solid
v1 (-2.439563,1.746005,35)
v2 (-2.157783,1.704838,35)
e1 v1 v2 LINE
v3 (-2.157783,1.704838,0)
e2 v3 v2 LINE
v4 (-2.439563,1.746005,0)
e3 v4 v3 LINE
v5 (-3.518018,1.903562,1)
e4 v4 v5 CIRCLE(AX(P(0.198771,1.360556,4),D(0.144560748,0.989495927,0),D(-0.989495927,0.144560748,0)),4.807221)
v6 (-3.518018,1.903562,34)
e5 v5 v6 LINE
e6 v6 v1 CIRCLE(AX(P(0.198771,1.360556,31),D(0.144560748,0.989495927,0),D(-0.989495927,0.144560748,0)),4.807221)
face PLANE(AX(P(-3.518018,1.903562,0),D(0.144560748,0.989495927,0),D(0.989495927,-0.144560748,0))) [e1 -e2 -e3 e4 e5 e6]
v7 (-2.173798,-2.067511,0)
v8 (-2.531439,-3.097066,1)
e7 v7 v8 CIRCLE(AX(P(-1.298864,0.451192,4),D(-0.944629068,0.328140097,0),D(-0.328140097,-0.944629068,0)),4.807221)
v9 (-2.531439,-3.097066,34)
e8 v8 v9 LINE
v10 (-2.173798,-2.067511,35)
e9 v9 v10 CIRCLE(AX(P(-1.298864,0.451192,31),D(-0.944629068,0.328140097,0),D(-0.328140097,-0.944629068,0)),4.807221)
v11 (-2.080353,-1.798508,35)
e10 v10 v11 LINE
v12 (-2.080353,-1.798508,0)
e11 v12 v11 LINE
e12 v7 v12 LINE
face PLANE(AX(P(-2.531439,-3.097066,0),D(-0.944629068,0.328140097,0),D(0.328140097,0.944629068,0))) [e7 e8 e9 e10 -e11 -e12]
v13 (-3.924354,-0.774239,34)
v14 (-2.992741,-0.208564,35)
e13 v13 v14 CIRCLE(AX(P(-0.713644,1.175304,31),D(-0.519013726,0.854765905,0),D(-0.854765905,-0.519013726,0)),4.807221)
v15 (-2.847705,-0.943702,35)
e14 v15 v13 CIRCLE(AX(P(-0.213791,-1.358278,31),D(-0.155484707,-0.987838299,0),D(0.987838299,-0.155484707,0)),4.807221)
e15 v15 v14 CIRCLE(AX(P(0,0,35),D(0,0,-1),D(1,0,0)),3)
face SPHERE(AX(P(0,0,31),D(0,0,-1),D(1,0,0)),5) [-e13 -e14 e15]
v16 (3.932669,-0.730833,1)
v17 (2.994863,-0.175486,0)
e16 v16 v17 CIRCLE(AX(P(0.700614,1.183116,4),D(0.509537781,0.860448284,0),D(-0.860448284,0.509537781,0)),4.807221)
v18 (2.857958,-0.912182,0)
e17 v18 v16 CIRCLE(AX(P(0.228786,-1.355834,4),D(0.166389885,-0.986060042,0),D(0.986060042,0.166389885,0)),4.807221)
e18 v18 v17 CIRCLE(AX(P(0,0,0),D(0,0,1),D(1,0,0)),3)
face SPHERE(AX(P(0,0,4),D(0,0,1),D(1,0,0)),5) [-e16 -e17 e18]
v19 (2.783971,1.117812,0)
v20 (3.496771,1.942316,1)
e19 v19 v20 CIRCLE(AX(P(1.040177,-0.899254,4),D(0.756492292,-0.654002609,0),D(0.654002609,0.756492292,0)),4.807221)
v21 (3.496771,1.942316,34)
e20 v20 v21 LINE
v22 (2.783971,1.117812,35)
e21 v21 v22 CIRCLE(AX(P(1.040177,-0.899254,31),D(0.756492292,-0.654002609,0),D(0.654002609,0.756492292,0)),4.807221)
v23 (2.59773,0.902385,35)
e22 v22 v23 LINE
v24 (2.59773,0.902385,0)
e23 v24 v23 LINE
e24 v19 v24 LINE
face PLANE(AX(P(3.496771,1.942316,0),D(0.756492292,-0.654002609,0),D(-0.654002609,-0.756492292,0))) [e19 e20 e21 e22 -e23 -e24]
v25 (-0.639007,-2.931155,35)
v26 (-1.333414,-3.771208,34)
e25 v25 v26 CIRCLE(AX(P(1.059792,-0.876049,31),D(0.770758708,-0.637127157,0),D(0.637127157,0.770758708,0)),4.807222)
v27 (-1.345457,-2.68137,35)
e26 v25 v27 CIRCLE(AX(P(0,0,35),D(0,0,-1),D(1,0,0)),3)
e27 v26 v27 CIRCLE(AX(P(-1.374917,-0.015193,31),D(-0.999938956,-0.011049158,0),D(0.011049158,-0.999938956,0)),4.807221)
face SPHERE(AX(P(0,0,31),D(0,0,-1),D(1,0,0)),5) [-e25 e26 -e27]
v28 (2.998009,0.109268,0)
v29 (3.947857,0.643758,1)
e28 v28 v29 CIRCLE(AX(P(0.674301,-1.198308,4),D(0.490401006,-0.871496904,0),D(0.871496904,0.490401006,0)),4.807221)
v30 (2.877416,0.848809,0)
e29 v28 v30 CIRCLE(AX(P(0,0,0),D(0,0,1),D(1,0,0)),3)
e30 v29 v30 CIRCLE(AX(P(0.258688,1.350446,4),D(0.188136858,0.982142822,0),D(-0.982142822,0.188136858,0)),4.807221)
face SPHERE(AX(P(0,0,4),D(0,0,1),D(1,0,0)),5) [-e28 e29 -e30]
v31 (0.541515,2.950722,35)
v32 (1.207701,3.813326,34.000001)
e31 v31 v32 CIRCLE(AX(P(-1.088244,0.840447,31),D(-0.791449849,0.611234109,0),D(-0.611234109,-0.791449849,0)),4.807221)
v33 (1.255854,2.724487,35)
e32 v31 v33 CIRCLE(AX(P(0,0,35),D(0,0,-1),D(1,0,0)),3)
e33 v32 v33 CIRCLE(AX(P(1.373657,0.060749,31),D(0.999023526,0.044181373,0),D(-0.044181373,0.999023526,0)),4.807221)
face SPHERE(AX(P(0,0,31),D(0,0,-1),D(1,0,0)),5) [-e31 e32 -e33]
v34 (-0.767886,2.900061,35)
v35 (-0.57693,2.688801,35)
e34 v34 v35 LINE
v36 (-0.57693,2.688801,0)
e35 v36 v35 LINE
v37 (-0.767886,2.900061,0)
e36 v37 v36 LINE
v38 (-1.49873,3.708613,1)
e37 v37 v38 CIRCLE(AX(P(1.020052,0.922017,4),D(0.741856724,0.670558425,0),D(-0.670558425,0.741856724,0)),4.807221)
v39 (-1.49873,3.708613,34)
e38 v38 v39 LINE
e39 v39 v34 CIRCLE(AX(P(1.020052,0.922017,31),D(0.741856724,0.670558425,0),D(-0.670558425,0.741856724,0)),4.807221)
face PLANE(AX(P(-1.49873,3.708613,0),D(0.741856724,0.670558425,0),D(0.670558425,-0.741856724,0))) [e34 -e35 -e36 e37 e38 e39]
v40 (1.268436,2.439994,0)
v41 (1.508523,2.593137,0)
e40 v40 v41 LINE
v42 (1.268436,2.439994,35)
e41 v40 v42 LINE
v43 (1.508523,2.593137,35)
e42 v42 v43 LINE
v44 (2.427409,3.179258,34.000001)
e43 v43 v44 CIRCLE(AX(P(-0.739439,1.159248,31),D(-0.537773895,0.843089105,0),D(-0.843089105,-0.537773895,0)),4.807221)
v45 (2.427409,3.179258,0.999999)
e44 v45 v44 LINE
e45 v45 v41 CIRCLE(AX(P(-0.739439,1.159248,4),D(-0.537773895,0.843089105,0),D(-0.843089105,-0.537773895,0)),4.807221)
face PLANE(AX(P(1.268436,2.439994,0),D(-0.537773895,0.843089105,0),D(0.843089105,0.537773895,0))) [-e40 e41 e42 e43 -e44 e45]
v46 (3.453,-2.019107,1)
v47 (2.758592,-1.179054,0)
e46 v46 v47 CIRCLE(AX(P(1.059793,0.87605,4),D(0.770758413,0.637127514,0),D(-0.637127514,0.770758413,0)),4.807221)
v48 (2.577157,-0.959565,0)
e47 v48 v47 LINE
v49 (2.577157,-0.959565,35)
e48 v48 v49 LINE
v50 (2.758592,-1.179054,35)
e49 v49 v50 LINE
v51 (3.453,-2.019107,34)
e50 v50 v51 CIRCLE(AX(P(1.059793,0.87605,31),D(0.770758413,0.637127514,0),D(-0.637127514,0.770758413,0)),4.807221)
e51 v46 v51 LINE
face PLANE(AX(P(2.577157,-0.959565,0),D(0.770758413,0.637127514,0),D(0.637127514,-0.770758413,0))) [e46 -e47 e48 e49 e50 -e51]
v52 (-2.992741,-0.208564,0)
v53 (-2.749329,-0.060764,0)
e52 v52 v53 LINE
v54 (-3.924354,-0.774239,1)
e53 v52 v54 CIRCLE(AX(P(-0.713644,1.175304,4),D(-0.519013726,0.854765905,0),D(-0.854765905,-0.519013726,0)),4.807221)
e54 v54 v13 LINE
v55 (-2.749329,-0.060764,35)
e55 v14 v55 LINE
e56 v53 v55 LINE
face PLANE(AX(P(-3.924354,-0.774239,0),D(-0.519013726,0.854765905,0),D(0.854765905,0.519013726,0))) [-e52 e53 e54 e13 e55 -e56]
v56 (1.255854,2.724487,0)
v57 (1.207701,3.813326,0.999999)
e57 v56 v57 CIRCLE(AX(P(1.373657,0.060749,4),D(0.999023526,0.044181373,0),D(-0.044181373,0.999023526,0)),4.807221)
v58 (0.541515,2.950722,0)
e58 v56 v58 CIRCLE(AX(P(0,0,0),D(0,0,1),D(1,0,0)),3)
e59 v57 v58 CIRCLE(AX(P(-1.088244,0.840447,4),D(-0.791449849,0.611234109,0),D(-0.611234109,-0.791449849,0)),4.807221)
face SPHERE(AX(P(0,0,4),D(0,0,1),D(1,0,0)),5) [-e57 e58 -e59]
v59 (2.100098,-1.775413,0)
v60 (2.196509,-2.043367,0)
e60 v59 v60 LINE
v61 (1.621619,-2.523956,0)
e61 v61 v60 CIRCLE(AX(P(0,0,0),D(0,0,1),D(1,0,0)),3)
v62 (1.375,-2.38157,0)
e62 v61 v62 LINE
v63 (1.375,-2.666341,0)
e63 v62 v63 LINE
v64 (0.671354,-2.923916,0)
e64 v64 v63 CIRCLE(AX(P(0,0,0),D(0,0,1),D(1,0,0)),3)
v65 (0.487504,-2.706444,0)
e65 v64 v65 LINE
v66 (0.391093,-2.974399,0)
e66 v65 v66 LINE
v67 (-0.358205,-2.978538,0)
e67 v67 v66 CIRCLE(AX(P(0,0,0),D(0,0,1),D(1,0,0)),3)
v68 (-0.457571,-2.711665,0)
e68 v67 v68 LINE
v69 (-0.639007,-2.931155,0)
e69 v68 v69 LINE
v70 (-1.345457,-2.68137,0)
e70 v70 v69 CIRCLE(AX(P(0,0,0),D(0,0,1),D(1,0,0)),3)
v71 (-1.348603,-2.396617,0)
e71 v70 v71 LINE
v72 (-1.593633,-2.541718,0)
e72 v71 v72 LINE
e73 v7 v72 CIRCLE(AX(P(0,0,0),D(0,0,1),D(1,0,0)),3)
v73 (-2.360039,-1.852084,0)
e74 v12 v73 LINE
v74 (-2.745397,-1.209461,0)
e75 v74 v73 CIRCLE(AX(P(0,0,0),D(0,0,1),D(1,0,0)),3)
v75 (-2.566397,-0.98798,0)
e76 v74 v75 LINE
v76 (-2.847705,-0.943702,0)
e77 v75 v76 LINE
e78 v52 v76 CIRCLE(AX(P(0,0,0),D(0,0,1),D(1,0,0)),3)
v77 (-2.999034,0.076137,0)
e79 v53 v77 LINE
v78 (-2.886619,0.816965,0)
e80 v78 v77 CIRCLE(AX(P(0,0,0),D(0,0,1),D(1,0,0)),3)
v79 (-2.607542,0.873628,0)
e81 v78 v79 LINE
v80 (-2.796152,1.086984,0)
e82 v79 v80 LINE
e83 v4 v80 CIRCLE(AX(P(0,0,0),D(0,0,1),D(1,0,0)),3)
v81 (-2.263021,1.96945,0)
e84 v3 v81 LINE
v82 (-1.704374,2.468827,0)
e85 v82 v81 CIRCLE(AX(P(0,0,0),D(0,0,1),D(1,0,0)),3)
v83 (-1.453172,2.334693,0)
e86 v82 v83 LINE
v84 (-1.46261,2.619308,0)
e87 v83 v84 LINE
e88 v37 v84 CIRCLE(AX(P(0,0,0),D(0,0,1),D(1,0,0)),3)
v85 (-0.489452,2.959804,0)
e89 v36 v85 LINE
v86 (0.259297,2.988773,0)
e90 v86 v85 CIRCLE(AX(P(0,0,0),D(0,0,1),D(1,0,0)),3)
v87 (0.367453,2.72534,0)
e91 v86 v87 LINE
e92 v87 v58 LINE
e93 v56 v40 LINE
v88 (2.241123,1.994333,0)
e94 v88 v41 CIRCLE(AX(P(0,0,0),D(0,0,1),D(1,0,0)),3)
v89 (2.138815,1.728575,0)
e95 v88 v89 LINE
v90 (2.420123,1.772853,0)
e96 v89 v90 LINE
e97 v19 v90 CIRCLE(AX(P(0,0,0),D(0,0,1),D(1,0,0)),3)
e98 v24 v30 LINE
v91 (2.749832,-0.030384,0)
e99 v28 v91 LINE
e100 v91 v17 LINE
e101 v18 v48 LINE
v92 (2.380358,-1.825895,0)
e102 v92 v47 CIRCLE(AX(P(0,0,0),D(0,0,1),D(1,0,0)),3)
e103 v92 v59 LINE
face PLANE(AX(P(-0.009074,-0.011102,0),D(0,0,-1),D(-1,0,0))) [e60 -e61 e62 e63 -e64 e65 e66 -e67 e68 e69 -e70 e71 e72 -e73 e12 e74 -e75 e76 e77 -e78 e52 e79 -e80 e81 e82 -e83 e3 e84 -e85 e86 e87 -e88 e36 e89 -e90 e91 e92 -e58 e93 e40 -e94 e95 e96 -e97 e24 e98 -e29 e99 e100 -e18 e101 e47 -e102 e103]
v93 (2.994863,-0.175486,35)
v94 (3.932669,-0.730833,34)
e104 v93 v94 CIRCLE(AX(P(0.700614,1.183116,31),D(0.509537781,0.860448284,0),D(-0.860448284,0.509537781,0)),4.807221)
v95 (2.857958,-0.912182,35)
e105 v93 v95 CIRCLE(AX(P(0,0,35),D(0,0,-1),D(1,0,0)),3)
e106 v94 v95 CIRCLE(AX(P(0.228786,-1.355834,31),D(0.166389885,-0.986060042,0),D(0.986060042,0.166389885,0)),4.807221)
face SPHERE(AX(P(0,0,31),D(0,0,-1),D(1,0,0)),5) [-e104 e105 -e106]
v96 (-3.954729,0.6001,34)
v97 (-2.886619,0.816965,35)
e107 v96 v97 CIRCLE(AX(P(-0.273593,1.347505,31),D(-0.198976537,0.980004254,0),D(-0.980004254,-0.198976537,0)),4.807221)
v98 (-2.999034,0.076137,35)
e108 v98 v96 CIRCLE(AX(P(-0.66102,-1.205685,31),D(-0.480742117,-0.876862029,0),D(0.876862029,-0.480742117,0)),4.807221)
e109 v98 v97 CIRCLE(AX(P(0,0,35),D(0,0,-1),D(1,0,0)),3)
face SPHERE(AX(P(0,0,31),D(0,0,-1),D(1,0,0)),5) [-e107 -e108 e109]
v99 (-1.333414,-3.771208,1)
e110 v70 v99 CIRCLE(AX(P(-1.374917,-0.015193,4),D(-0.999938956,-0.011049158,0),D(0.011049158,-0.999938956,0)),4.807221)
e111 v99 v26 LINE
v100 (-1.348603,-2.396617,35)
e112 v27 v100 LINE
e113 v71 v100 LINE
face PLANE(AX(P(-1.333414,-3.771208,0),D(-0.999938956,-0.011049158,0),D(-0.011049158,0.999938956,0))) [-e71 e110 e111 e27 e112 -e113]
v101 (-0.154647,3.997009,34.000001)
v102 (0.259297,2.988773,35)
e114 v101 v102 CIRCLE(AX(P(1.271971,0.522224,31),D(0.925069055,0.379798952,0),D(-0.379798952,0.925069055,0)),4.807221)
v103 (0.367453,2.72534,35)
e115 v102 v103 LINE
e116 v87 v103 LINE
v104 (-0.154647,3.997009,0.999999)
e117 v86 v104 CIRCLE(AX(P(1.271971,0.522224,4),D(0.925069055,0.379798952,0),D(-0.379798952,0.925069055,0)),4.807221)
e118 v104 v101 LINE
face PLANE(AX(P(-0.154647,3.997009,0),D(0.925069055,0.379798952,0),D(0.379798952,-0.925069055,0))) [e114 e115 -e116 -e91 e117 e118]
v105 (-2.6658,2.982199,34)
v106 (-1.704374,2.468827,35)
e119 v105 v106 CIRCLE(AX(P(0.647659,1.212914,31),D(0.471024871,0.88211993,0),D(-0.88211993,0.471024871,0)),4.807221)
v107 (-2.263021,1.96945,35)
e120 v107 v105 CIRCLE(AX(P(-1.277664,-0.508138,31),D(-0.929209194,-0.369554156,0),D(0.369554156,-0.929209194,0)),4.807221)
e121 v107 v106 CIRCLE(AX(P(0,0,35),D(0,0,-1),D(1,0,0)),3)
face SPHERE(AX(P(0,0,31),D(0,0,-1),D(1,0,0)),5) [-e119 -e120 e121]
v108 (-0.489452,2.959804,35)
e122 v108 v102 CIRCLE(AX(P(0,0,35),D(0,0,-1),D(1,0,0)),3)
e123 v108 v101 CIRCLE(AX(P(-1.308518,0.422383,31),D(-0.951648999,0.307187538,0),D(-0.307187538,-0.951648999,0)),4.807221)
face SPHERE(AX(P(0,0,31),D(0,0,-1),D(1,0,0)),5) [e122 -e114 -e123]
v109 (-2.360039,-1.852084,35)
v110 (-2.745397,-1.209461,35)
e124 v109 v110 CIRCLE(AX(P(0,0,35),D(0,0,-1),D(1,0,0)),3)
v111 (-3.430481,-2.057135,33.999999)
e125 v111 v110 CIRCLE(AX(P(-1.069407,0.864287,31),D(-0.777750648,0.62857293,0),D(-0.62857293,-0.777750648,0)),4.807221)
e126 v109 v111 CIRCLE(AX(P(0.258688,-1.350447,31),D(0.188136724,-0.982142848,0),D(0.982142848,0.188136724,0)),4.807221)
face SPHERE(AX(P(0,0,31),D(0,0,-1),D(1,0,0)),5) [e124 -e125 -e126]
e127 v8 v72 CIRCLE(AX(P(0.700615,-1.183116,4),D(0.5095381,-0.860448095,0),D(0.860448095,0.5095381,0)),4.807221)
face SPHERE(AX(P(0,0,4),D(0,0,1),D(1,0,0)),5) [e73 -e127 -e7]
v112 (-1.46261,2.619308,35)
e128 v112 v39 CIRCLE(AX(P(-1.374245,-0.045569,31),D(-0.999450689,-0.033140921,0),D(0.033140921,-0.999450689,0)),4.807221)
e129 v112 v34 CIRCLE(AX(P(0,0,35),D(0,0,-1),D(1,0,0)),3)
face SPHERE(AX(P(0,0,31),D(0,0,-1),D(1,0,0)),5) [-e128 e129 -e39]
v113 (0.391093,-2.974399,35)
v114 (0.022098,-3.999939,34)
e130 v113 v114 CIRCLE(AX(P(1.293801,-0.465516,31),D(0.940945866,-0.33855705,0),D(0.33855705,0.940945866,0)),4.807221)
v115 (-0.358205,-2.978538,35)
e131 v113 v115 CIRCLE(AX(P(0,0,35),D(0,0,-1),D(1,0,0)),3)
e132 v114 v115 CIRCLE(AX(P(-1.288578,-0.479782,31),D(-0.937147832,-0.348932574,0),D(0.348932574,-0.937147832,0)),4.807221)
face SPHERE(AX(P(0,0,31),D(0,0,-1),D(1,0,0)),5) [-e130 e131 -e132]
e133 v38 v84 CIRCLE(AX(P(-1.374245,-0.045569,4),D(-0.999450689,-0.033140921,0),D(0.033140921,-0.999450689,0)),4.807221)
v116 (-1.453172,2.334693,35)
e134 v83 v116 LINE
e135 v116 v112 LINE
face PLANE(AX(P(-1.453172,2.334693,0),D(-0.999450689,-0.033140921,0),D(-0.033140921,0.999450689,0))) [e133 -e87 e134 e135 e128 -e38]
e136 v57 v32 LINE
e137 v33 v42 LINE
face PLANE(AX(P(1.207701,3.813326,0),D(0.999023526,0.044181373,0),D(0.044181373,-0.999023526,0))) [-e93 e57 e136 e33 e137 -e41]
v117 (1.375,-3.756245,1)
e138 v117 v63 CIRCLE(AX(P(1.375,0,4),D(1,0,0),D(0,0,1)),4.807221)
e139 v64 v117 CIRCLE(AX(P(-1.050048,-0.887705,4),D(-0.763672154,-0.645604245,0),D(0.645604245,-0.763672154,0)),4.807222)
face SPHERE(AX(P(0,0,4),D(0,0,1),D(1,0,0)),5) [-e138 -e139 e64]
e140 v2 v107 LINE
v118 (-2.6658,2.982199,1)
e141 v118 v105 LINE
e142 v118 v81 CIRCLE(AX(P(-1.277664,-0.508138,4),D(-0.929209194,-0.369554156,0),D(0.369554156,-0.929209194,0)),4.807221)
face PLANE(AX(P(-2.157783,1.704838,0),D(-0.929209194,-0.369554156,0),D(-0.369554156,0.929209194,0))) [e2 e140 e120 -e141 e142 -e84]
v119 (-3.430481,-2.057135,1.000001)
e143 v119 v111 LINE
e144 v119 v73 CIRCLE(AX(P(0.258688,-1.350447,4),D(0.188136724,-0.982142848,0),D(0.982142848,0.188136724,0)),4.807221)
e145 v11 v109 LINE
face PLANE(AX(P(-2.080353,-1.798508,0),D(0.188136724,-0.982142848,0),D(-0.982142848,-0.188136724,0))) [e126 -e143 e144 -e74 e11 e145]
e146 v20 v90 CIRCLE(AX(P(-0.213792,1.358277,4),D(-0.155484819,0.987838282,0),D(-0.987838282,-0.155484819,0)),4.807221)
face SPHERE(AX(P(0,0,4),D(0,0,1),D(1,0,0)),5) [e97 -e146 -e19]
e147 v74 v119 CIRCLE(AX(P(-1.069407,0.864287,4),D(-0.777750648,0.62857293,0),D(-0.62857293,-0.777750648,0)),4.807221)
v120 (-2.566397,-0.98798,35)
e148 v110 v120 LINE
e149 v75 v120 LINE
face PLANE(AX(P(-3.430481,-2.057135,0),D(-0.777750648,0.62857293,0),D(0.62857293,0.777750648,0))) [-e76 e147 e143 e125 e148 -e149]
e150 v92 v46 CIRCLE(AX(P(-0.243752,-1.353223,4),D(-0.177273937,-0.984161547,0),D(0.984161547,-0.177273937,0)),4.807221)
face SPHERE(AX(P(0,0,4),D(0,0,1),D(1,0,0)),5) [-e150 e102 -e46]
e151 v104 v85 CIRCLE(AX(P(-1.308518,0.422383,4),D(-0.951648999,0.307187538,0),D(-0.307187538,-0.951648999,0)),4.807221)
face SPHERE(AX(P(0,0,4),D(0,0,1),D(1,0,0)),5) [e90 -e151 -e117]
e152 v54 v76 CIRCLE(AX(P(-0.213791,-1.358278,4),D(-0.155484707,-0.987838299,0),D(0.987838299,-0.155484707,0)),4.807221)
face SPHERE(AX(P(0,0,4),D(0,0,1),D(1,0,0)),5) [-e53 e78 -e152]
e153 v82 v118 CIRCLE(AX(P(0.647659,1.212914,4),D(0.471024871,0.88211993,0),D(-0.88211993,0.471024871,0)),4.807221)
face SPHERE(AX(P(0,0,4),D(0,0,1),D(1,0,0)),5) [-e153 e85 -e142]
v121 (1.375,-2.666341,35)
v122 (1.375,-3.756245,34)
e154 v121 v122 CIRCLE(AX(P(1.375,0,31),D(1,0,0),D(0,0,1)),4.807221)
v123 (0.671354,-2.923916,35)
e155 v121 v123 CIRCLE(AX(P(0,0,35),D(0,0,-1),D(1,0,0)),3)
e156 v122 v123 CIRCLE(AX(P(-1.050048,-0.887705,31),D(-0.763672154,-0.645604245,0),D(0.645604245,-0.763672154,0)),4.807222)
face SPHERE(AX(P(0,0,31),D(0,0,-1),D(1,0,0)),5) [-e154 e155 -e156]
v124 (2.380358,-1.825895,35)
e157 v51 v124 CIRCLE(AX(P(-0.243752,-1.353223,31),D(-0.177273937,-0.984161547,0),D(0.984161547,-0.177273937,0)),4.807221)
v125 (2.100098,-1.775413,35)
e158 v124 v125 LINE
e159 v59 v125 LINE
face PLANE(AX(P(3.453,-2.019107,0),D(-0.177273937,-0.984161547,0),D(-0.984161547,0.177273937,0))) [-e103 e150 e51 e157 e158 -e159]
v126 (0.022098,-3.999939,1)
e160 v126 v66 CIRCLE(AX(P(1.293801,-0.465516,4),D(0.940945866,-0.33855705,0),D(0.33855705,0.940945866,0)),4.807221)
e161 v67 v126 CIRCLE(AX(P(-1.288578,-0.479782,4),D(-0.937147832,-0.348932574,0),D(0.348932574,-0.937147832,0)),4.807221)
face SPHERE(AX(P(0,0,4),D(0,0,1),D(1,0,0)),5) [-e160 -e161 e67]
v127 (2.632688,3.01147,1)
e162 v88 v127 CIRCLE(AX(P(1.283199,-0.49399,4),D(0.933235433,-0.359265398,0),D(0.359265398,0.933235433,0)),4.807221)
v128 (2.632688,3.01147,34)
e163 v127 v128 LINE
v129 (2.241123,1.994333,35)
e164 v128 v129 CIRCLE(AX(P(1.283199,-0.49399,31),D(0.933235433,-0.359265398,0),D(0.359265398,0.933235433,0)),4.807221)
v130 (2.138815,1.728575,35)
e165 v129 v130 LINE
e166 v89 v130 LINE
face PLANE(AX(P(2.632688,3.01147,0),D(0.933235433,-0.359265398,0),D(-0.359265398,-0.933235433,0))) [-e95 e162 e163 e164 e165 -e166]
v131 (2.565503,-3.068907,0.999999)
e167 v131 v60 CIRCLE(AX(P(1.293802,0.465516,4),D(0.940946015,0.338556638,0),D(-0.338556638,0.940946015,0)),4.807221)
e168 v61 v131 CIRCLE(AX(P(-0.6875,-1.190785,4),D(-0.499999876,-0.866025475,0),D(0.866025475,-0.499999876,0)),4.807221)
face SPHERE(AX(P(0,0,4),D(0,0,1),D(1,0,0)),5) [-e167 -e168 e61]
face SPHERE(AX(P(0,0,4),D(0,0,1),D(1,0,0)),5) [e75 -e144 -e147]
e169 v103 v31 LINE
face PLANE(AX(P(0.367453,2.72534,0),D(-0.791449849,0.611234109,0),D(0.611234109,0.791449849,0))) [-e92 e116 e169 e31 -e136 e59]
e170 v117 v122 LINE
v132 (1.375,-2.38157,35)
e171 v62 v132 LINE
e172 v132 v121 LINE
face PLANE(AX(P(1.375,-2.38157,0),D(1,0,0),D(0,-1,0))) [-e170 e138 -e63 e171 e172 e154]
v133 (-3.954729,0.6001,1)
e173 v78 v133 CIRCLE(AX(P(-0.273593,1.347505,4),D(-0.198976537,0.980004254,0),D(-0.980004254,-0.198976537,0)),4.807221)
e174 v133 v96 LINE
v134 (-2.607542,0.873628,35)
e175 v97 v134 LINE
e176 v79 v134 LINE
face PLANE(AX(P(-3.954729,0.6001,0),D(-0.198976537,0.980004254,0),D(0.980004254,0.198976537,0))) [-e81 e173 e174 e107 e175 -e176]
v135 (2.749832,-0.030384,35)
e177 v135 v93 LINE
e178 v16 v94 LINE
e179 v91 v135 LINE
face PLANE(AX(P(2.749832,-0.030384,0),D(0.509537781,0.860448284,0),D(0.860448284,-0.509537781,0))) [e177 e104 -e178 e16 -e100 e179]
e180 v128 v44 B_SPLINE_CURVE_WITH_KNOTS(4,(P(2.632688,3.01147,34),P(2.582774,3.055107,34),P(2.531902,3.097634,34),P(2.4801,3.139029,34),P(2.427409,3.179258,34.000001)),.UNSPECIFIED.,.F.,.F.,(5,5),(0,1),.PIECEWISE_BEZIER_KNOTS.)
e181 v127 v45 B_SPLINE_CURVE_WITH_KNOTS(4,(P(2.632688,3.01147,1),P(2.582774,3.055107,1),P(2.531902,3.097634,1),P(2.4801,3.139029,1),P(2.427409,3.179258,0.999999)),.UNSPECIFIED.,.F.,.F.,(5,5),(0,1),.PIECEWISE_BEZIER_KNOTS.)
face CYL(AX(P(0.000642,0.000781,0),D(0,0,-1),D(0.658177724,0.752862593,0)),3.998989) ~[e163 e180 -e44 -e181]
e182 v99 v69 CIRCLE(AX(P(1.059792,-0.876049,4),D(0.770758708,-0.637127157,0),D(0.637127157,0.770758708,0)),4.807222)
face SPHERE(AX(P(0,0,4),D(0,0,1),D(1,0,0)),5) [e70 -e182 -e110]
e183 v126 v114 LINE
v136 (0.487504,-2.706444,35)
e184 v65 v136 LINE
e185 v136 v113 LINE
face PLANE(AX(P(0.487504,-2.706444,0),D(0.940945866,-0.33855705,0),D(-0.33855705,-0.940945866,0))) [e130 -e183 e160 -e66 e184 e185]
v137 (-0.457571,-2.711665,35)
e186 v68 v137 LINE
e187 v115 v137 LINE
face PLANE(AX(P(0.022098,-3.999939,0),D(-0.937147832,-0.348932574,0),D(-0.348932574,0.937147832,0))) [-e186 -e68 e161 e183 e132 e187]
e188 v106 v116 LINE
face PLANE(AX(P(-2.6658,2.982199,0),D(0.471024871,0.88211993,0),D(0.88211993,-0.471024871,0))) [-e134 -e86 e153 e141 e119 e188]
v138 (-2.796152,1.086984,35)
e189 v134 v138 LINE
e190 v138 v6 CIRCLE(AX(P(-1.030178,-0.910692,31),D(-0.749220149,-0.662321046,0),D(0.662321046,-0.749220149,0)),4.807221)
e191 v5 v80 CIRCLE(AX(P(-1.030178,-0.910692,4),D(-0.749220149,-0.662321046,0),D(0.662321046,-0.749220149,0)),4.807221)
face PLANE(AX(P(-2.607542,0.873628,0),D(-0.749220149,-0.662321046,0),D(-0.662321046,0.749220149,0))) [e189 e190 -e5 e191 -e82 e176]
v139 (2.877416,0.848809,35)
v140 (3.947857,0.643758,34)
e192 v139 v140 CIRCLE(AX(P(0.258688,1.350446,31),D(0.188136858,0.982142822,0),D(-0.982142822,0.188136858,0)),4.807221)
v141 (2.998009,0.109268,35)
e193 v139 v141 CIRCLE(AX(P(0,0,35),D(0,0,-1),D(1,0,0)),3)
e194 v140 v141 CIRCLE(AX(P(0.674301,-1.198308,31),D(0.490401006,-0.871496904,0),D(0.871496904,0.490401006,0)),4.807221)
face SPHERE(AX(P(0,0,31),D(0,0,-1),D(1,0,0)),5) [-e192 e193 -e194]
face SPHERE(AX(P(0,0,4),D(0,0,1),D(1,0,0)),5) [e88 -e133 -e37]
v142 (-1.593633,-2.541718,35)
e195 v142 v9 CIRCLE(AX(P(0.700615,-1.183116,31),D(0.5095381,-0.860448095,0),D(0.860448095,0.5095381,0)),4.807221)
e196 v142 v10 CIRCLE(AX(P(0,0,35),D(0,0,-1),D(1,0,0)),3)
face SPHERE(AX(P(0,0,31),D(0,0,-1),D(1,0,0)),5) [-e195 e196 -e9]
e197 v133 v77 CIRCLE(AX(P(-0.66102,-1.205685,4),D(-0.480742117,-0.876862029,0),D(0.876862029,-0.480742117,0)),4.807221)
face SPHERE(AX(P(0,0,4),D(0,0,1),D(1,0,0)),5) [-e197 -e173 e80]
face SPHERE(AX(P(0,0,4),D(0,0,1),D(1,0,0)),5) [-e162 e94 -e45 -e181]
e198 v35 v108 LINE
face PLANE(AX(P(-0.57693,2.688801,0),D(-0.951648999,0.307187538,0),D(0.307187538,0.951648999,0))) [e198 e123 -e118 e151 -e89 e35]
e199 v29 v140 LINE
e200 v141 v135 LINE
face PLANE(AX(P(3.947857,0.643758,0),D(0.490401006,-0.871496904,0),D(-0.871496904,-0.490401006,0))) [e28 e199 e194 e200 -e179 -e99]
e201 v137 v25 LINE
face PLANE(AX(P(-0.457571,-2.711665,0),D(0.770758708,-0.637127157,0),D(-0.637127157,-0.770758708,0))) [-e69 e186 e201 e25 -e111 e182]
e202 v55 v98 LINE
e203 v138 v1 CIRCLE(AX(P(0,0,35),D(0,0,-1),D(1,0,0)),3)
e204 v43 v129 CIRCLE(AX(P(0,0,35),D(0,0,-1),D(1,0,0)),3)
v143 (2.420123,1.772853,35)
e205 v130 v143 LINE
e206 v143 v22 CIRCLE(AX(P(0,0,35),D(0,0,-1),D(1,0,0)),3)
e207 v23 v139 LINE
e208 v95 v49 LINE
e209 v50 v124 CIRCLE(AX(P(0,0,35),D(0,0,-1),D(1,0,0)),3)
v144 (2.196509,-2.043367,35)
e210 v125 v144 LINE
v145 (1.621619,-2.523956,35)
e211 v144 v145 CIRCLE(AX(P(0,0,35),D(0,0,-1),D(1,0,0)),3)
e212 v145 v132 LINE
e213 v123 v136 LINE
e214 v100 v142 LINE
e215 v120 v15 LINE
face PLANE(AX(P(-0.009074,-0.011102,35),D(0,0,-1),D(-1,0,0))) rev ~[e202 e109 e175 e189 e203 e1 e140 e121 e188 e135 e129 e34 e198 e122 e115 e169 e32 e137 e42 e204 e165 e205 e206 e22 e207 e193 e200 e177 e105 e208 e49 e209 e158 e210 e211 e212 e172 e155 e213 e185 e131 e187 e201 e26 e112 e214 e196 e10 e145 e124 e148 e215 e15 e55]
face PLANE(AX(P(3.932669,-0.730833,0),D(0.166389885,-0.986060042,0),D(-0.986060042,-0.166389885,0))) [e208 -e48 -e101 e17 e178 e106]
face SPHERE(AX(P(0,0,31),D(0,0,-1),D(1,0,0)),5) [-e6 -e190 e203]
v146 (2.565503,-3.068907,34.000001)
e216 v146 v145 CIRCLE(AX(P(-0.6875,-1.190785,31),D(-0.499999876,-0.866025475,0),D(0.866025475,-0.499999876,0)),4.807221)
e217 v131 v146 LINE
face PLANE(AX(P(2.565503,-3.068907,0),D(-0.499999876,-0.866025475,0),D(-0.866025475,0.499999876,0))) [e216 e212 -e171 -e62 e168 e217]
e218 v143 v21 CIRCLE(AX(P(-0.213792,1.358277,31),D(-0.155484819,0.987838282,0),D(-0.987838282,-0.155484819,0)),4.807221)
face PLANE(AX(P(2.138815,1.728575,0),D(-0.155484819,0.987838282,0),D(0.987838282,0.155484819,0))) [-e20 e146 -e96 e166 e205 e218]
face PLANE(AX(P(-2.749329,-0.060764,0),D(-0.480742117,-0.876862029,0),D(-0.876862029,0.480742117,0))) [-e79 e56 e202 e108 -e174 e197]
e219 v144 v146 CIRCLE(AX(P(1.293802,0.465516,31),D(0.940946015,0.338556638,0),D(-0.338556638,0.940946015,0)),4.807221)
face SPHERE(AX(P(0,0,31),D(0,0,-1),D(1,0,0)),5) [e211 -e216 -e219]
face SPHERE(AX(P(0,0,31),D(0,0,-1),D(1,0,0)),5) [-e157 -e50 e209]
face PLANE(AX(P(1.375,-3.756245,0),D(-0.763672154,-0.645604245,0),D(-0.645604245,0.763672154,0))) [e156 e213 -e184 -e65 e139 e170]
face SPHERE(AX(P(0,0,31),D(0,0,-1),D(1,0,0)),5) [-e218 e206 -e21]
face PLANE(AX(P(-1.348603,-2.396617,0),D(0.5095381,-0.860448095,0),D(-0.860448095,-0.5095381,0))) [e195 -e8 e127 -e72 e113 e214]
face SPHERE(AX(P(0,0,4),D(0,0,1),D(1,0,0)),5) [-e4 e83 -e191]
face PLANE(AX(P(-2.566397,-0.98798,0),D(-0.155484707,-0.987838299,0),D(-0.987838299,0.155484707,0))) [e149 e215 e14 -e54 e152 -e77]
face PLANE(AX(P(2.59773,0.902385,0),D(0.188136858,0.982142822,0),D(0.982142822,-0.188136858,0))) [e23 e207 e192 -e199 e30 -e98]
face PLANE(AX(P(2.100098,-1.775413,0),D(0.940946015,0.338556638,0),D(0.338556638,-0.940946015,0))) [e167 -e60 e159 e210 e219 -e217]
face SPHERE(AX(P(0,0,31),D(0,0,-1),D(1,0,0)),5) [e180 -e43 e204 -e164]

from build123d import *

# Parameters (mm, degrees)
CUT002_PLACEMENT_ANGLE = 180
RPANELPAD_DEPTH        = 35


with BuildPart() as sphere001:
    # Sphere001 → Sphere001 (revolve)
    with BuildSketch(Plane(origin=(0, 0, 3), x_dir=(1, 0, 0), z_dir=(0, -1, 0))):
        with BuildLine():
            ThreePointArc((0, -5), (5, 0), (0, 5))
            Line((0, 5), (0, -5))
        make_face()
    revolve(axis=Axis((0, 0, 3), (0, 0, 1)))


with BuildPart() as sphere:
    # Sphere → Sphere (revolve)
    with BuildSketch(Plane.XZ):
        with BuildLine():
            ThreePointArc((0, -5), (5, 0), (0, 5))
            Line((0, 5), (0, -5))
        make_face()
    revolve(axis=Axis((0, 0, 0), (0, 0, 1)))


with BuildPart() as cut002:
    # Cut002 base: copy of Sphere
    add(sphere.part)

    # Cut002: cut Sphere001
    add(sphere001.part, mode=Mode.SUBTRACT)


with BuildPart() as cut002_1:
    # Cut002 placement: moved
    add(cut002.part.moved(Location((0, 0, 34))).rotate(Axis((0, 0, 34), (1, 0, 0)), CUT002_PLACEMENT_ANGLE))


with BuildPart() as cut:
    # Cut base: copy of Sphere
    add(sphere.part)

    # Cut: cut Sphere001
    add(sphere001.part, mode=Mode.SUBTRACT)


with BuildPart() as cut_1:
    # Cut placement: moved
    add(cut.part.moved(Location((0, 0, 1))))


with BuildPart() as dowel_8_x_35_mm:
    # Sketch → rpanelPad (new body)
    with BuildSketch(Plane.XY):
        with BuildLine():
            Line((-1.49873, 3.708613), (-0.57693, 2.688801))
            Line((-0.57693, 2.688801), (-0.154647, 3.997009))
            Line((-0.154647, 3.997009), (0.367453, 2.72534))
            Line((0.367453, 2.72534), (1.207701, 3.813326))
            Line((1.207701, 3.813326), (1.268436, 2.439994))
            Line((1.268436, 2.439994), (2.427409, 3.179258))
            ThreePointArc((2.632688, 3.01147), (2.531439, 3.097066), (2.427409, 3.179258))
            Line((2.632688, 3.01147), (2.138815, 1.728575))
            Line((2.138815, 1.728575), (3.496771, 1.942316))
            Line((3.496771, 1.942316), (2.59773, 0.902385))
            Line((2.59773, 0.902385), (3.947857, 0.643758))
            Line((3.947857, 0.643758), (2.749832, -0.030384))
            Line((2.749832, -0.030384), (3.932669, -0.730833))
            Line((3.932669, -0.730833), (2.577157, -0.959565))
            Line((2.577157, -0.959565), (3.453, -2.019107))
            Line((3.453, -2.019107), (2.100098, -1.775413))
            Line((2.100098, -1.775413), (2.565503, -3.068907))
            Line((2.565503, -3.068907), (1.375, -2.38157))
            Line((1.375, -2.38157), (1.375, -3.756245))
            Line((1.375, -3.756245), (0.487504, -2.706444))
            Line((0.487504, -2.706444), (0.022098, -3.999939))
            Line((0.022098, -3.999939), (-0.457571, -2.711665))
            Line((-0.457571, -2.711665), (-1.333414, -3.771208))
            Line((-1.333414, -3.771208), (-1.348603, -2.396617))
            Line((-1.348603, -2.396617), (-2.531439, -3.097066))
            Line((-2.531439, -3.097066), (-2.080353, -1.798508))
            Line((-2.080353, -1.798508), (-3.430481, -2.057135))
            Line((-3.430481, -2.057135), (-2.566397, -0.98798))
            Line((-2.566397, -0.98798), (-3.924354, -0.774239))
            Line((-3.924354, -0.774239), (-2.749329, -0.060764))
            Line((-2.749329, -0.060764), (-3.954729, 0.6001))
            Line((-3.954729, 0.6001), (-2.607542, 0.873628))
            Line((-2.607542, 0.873628), (-3.518018, 1.903562))
            Line((-3.518018, 1.903562), (-2.157783, 1.704838))
            Line((-2.157783, 1.704838), (-2.6658, 2.982199))
            Line((-2.6658, 2.982199), (-1.453172, 2.334693))
            Line((-1.453172, 2.334693), (-1.49873, 3.708613))
        make_face()
    extrude(amount=RPANELPAD_DEPTH)

    # Cut001: cut Cut
    add(cut_1.part, mode=Mode.SUBTRACT)

    # Cut003: cut Cut002
    add(cut002_1.part, mode=Mode.SUBTRACT)


solid = dowel_8_x_35_mm.part
